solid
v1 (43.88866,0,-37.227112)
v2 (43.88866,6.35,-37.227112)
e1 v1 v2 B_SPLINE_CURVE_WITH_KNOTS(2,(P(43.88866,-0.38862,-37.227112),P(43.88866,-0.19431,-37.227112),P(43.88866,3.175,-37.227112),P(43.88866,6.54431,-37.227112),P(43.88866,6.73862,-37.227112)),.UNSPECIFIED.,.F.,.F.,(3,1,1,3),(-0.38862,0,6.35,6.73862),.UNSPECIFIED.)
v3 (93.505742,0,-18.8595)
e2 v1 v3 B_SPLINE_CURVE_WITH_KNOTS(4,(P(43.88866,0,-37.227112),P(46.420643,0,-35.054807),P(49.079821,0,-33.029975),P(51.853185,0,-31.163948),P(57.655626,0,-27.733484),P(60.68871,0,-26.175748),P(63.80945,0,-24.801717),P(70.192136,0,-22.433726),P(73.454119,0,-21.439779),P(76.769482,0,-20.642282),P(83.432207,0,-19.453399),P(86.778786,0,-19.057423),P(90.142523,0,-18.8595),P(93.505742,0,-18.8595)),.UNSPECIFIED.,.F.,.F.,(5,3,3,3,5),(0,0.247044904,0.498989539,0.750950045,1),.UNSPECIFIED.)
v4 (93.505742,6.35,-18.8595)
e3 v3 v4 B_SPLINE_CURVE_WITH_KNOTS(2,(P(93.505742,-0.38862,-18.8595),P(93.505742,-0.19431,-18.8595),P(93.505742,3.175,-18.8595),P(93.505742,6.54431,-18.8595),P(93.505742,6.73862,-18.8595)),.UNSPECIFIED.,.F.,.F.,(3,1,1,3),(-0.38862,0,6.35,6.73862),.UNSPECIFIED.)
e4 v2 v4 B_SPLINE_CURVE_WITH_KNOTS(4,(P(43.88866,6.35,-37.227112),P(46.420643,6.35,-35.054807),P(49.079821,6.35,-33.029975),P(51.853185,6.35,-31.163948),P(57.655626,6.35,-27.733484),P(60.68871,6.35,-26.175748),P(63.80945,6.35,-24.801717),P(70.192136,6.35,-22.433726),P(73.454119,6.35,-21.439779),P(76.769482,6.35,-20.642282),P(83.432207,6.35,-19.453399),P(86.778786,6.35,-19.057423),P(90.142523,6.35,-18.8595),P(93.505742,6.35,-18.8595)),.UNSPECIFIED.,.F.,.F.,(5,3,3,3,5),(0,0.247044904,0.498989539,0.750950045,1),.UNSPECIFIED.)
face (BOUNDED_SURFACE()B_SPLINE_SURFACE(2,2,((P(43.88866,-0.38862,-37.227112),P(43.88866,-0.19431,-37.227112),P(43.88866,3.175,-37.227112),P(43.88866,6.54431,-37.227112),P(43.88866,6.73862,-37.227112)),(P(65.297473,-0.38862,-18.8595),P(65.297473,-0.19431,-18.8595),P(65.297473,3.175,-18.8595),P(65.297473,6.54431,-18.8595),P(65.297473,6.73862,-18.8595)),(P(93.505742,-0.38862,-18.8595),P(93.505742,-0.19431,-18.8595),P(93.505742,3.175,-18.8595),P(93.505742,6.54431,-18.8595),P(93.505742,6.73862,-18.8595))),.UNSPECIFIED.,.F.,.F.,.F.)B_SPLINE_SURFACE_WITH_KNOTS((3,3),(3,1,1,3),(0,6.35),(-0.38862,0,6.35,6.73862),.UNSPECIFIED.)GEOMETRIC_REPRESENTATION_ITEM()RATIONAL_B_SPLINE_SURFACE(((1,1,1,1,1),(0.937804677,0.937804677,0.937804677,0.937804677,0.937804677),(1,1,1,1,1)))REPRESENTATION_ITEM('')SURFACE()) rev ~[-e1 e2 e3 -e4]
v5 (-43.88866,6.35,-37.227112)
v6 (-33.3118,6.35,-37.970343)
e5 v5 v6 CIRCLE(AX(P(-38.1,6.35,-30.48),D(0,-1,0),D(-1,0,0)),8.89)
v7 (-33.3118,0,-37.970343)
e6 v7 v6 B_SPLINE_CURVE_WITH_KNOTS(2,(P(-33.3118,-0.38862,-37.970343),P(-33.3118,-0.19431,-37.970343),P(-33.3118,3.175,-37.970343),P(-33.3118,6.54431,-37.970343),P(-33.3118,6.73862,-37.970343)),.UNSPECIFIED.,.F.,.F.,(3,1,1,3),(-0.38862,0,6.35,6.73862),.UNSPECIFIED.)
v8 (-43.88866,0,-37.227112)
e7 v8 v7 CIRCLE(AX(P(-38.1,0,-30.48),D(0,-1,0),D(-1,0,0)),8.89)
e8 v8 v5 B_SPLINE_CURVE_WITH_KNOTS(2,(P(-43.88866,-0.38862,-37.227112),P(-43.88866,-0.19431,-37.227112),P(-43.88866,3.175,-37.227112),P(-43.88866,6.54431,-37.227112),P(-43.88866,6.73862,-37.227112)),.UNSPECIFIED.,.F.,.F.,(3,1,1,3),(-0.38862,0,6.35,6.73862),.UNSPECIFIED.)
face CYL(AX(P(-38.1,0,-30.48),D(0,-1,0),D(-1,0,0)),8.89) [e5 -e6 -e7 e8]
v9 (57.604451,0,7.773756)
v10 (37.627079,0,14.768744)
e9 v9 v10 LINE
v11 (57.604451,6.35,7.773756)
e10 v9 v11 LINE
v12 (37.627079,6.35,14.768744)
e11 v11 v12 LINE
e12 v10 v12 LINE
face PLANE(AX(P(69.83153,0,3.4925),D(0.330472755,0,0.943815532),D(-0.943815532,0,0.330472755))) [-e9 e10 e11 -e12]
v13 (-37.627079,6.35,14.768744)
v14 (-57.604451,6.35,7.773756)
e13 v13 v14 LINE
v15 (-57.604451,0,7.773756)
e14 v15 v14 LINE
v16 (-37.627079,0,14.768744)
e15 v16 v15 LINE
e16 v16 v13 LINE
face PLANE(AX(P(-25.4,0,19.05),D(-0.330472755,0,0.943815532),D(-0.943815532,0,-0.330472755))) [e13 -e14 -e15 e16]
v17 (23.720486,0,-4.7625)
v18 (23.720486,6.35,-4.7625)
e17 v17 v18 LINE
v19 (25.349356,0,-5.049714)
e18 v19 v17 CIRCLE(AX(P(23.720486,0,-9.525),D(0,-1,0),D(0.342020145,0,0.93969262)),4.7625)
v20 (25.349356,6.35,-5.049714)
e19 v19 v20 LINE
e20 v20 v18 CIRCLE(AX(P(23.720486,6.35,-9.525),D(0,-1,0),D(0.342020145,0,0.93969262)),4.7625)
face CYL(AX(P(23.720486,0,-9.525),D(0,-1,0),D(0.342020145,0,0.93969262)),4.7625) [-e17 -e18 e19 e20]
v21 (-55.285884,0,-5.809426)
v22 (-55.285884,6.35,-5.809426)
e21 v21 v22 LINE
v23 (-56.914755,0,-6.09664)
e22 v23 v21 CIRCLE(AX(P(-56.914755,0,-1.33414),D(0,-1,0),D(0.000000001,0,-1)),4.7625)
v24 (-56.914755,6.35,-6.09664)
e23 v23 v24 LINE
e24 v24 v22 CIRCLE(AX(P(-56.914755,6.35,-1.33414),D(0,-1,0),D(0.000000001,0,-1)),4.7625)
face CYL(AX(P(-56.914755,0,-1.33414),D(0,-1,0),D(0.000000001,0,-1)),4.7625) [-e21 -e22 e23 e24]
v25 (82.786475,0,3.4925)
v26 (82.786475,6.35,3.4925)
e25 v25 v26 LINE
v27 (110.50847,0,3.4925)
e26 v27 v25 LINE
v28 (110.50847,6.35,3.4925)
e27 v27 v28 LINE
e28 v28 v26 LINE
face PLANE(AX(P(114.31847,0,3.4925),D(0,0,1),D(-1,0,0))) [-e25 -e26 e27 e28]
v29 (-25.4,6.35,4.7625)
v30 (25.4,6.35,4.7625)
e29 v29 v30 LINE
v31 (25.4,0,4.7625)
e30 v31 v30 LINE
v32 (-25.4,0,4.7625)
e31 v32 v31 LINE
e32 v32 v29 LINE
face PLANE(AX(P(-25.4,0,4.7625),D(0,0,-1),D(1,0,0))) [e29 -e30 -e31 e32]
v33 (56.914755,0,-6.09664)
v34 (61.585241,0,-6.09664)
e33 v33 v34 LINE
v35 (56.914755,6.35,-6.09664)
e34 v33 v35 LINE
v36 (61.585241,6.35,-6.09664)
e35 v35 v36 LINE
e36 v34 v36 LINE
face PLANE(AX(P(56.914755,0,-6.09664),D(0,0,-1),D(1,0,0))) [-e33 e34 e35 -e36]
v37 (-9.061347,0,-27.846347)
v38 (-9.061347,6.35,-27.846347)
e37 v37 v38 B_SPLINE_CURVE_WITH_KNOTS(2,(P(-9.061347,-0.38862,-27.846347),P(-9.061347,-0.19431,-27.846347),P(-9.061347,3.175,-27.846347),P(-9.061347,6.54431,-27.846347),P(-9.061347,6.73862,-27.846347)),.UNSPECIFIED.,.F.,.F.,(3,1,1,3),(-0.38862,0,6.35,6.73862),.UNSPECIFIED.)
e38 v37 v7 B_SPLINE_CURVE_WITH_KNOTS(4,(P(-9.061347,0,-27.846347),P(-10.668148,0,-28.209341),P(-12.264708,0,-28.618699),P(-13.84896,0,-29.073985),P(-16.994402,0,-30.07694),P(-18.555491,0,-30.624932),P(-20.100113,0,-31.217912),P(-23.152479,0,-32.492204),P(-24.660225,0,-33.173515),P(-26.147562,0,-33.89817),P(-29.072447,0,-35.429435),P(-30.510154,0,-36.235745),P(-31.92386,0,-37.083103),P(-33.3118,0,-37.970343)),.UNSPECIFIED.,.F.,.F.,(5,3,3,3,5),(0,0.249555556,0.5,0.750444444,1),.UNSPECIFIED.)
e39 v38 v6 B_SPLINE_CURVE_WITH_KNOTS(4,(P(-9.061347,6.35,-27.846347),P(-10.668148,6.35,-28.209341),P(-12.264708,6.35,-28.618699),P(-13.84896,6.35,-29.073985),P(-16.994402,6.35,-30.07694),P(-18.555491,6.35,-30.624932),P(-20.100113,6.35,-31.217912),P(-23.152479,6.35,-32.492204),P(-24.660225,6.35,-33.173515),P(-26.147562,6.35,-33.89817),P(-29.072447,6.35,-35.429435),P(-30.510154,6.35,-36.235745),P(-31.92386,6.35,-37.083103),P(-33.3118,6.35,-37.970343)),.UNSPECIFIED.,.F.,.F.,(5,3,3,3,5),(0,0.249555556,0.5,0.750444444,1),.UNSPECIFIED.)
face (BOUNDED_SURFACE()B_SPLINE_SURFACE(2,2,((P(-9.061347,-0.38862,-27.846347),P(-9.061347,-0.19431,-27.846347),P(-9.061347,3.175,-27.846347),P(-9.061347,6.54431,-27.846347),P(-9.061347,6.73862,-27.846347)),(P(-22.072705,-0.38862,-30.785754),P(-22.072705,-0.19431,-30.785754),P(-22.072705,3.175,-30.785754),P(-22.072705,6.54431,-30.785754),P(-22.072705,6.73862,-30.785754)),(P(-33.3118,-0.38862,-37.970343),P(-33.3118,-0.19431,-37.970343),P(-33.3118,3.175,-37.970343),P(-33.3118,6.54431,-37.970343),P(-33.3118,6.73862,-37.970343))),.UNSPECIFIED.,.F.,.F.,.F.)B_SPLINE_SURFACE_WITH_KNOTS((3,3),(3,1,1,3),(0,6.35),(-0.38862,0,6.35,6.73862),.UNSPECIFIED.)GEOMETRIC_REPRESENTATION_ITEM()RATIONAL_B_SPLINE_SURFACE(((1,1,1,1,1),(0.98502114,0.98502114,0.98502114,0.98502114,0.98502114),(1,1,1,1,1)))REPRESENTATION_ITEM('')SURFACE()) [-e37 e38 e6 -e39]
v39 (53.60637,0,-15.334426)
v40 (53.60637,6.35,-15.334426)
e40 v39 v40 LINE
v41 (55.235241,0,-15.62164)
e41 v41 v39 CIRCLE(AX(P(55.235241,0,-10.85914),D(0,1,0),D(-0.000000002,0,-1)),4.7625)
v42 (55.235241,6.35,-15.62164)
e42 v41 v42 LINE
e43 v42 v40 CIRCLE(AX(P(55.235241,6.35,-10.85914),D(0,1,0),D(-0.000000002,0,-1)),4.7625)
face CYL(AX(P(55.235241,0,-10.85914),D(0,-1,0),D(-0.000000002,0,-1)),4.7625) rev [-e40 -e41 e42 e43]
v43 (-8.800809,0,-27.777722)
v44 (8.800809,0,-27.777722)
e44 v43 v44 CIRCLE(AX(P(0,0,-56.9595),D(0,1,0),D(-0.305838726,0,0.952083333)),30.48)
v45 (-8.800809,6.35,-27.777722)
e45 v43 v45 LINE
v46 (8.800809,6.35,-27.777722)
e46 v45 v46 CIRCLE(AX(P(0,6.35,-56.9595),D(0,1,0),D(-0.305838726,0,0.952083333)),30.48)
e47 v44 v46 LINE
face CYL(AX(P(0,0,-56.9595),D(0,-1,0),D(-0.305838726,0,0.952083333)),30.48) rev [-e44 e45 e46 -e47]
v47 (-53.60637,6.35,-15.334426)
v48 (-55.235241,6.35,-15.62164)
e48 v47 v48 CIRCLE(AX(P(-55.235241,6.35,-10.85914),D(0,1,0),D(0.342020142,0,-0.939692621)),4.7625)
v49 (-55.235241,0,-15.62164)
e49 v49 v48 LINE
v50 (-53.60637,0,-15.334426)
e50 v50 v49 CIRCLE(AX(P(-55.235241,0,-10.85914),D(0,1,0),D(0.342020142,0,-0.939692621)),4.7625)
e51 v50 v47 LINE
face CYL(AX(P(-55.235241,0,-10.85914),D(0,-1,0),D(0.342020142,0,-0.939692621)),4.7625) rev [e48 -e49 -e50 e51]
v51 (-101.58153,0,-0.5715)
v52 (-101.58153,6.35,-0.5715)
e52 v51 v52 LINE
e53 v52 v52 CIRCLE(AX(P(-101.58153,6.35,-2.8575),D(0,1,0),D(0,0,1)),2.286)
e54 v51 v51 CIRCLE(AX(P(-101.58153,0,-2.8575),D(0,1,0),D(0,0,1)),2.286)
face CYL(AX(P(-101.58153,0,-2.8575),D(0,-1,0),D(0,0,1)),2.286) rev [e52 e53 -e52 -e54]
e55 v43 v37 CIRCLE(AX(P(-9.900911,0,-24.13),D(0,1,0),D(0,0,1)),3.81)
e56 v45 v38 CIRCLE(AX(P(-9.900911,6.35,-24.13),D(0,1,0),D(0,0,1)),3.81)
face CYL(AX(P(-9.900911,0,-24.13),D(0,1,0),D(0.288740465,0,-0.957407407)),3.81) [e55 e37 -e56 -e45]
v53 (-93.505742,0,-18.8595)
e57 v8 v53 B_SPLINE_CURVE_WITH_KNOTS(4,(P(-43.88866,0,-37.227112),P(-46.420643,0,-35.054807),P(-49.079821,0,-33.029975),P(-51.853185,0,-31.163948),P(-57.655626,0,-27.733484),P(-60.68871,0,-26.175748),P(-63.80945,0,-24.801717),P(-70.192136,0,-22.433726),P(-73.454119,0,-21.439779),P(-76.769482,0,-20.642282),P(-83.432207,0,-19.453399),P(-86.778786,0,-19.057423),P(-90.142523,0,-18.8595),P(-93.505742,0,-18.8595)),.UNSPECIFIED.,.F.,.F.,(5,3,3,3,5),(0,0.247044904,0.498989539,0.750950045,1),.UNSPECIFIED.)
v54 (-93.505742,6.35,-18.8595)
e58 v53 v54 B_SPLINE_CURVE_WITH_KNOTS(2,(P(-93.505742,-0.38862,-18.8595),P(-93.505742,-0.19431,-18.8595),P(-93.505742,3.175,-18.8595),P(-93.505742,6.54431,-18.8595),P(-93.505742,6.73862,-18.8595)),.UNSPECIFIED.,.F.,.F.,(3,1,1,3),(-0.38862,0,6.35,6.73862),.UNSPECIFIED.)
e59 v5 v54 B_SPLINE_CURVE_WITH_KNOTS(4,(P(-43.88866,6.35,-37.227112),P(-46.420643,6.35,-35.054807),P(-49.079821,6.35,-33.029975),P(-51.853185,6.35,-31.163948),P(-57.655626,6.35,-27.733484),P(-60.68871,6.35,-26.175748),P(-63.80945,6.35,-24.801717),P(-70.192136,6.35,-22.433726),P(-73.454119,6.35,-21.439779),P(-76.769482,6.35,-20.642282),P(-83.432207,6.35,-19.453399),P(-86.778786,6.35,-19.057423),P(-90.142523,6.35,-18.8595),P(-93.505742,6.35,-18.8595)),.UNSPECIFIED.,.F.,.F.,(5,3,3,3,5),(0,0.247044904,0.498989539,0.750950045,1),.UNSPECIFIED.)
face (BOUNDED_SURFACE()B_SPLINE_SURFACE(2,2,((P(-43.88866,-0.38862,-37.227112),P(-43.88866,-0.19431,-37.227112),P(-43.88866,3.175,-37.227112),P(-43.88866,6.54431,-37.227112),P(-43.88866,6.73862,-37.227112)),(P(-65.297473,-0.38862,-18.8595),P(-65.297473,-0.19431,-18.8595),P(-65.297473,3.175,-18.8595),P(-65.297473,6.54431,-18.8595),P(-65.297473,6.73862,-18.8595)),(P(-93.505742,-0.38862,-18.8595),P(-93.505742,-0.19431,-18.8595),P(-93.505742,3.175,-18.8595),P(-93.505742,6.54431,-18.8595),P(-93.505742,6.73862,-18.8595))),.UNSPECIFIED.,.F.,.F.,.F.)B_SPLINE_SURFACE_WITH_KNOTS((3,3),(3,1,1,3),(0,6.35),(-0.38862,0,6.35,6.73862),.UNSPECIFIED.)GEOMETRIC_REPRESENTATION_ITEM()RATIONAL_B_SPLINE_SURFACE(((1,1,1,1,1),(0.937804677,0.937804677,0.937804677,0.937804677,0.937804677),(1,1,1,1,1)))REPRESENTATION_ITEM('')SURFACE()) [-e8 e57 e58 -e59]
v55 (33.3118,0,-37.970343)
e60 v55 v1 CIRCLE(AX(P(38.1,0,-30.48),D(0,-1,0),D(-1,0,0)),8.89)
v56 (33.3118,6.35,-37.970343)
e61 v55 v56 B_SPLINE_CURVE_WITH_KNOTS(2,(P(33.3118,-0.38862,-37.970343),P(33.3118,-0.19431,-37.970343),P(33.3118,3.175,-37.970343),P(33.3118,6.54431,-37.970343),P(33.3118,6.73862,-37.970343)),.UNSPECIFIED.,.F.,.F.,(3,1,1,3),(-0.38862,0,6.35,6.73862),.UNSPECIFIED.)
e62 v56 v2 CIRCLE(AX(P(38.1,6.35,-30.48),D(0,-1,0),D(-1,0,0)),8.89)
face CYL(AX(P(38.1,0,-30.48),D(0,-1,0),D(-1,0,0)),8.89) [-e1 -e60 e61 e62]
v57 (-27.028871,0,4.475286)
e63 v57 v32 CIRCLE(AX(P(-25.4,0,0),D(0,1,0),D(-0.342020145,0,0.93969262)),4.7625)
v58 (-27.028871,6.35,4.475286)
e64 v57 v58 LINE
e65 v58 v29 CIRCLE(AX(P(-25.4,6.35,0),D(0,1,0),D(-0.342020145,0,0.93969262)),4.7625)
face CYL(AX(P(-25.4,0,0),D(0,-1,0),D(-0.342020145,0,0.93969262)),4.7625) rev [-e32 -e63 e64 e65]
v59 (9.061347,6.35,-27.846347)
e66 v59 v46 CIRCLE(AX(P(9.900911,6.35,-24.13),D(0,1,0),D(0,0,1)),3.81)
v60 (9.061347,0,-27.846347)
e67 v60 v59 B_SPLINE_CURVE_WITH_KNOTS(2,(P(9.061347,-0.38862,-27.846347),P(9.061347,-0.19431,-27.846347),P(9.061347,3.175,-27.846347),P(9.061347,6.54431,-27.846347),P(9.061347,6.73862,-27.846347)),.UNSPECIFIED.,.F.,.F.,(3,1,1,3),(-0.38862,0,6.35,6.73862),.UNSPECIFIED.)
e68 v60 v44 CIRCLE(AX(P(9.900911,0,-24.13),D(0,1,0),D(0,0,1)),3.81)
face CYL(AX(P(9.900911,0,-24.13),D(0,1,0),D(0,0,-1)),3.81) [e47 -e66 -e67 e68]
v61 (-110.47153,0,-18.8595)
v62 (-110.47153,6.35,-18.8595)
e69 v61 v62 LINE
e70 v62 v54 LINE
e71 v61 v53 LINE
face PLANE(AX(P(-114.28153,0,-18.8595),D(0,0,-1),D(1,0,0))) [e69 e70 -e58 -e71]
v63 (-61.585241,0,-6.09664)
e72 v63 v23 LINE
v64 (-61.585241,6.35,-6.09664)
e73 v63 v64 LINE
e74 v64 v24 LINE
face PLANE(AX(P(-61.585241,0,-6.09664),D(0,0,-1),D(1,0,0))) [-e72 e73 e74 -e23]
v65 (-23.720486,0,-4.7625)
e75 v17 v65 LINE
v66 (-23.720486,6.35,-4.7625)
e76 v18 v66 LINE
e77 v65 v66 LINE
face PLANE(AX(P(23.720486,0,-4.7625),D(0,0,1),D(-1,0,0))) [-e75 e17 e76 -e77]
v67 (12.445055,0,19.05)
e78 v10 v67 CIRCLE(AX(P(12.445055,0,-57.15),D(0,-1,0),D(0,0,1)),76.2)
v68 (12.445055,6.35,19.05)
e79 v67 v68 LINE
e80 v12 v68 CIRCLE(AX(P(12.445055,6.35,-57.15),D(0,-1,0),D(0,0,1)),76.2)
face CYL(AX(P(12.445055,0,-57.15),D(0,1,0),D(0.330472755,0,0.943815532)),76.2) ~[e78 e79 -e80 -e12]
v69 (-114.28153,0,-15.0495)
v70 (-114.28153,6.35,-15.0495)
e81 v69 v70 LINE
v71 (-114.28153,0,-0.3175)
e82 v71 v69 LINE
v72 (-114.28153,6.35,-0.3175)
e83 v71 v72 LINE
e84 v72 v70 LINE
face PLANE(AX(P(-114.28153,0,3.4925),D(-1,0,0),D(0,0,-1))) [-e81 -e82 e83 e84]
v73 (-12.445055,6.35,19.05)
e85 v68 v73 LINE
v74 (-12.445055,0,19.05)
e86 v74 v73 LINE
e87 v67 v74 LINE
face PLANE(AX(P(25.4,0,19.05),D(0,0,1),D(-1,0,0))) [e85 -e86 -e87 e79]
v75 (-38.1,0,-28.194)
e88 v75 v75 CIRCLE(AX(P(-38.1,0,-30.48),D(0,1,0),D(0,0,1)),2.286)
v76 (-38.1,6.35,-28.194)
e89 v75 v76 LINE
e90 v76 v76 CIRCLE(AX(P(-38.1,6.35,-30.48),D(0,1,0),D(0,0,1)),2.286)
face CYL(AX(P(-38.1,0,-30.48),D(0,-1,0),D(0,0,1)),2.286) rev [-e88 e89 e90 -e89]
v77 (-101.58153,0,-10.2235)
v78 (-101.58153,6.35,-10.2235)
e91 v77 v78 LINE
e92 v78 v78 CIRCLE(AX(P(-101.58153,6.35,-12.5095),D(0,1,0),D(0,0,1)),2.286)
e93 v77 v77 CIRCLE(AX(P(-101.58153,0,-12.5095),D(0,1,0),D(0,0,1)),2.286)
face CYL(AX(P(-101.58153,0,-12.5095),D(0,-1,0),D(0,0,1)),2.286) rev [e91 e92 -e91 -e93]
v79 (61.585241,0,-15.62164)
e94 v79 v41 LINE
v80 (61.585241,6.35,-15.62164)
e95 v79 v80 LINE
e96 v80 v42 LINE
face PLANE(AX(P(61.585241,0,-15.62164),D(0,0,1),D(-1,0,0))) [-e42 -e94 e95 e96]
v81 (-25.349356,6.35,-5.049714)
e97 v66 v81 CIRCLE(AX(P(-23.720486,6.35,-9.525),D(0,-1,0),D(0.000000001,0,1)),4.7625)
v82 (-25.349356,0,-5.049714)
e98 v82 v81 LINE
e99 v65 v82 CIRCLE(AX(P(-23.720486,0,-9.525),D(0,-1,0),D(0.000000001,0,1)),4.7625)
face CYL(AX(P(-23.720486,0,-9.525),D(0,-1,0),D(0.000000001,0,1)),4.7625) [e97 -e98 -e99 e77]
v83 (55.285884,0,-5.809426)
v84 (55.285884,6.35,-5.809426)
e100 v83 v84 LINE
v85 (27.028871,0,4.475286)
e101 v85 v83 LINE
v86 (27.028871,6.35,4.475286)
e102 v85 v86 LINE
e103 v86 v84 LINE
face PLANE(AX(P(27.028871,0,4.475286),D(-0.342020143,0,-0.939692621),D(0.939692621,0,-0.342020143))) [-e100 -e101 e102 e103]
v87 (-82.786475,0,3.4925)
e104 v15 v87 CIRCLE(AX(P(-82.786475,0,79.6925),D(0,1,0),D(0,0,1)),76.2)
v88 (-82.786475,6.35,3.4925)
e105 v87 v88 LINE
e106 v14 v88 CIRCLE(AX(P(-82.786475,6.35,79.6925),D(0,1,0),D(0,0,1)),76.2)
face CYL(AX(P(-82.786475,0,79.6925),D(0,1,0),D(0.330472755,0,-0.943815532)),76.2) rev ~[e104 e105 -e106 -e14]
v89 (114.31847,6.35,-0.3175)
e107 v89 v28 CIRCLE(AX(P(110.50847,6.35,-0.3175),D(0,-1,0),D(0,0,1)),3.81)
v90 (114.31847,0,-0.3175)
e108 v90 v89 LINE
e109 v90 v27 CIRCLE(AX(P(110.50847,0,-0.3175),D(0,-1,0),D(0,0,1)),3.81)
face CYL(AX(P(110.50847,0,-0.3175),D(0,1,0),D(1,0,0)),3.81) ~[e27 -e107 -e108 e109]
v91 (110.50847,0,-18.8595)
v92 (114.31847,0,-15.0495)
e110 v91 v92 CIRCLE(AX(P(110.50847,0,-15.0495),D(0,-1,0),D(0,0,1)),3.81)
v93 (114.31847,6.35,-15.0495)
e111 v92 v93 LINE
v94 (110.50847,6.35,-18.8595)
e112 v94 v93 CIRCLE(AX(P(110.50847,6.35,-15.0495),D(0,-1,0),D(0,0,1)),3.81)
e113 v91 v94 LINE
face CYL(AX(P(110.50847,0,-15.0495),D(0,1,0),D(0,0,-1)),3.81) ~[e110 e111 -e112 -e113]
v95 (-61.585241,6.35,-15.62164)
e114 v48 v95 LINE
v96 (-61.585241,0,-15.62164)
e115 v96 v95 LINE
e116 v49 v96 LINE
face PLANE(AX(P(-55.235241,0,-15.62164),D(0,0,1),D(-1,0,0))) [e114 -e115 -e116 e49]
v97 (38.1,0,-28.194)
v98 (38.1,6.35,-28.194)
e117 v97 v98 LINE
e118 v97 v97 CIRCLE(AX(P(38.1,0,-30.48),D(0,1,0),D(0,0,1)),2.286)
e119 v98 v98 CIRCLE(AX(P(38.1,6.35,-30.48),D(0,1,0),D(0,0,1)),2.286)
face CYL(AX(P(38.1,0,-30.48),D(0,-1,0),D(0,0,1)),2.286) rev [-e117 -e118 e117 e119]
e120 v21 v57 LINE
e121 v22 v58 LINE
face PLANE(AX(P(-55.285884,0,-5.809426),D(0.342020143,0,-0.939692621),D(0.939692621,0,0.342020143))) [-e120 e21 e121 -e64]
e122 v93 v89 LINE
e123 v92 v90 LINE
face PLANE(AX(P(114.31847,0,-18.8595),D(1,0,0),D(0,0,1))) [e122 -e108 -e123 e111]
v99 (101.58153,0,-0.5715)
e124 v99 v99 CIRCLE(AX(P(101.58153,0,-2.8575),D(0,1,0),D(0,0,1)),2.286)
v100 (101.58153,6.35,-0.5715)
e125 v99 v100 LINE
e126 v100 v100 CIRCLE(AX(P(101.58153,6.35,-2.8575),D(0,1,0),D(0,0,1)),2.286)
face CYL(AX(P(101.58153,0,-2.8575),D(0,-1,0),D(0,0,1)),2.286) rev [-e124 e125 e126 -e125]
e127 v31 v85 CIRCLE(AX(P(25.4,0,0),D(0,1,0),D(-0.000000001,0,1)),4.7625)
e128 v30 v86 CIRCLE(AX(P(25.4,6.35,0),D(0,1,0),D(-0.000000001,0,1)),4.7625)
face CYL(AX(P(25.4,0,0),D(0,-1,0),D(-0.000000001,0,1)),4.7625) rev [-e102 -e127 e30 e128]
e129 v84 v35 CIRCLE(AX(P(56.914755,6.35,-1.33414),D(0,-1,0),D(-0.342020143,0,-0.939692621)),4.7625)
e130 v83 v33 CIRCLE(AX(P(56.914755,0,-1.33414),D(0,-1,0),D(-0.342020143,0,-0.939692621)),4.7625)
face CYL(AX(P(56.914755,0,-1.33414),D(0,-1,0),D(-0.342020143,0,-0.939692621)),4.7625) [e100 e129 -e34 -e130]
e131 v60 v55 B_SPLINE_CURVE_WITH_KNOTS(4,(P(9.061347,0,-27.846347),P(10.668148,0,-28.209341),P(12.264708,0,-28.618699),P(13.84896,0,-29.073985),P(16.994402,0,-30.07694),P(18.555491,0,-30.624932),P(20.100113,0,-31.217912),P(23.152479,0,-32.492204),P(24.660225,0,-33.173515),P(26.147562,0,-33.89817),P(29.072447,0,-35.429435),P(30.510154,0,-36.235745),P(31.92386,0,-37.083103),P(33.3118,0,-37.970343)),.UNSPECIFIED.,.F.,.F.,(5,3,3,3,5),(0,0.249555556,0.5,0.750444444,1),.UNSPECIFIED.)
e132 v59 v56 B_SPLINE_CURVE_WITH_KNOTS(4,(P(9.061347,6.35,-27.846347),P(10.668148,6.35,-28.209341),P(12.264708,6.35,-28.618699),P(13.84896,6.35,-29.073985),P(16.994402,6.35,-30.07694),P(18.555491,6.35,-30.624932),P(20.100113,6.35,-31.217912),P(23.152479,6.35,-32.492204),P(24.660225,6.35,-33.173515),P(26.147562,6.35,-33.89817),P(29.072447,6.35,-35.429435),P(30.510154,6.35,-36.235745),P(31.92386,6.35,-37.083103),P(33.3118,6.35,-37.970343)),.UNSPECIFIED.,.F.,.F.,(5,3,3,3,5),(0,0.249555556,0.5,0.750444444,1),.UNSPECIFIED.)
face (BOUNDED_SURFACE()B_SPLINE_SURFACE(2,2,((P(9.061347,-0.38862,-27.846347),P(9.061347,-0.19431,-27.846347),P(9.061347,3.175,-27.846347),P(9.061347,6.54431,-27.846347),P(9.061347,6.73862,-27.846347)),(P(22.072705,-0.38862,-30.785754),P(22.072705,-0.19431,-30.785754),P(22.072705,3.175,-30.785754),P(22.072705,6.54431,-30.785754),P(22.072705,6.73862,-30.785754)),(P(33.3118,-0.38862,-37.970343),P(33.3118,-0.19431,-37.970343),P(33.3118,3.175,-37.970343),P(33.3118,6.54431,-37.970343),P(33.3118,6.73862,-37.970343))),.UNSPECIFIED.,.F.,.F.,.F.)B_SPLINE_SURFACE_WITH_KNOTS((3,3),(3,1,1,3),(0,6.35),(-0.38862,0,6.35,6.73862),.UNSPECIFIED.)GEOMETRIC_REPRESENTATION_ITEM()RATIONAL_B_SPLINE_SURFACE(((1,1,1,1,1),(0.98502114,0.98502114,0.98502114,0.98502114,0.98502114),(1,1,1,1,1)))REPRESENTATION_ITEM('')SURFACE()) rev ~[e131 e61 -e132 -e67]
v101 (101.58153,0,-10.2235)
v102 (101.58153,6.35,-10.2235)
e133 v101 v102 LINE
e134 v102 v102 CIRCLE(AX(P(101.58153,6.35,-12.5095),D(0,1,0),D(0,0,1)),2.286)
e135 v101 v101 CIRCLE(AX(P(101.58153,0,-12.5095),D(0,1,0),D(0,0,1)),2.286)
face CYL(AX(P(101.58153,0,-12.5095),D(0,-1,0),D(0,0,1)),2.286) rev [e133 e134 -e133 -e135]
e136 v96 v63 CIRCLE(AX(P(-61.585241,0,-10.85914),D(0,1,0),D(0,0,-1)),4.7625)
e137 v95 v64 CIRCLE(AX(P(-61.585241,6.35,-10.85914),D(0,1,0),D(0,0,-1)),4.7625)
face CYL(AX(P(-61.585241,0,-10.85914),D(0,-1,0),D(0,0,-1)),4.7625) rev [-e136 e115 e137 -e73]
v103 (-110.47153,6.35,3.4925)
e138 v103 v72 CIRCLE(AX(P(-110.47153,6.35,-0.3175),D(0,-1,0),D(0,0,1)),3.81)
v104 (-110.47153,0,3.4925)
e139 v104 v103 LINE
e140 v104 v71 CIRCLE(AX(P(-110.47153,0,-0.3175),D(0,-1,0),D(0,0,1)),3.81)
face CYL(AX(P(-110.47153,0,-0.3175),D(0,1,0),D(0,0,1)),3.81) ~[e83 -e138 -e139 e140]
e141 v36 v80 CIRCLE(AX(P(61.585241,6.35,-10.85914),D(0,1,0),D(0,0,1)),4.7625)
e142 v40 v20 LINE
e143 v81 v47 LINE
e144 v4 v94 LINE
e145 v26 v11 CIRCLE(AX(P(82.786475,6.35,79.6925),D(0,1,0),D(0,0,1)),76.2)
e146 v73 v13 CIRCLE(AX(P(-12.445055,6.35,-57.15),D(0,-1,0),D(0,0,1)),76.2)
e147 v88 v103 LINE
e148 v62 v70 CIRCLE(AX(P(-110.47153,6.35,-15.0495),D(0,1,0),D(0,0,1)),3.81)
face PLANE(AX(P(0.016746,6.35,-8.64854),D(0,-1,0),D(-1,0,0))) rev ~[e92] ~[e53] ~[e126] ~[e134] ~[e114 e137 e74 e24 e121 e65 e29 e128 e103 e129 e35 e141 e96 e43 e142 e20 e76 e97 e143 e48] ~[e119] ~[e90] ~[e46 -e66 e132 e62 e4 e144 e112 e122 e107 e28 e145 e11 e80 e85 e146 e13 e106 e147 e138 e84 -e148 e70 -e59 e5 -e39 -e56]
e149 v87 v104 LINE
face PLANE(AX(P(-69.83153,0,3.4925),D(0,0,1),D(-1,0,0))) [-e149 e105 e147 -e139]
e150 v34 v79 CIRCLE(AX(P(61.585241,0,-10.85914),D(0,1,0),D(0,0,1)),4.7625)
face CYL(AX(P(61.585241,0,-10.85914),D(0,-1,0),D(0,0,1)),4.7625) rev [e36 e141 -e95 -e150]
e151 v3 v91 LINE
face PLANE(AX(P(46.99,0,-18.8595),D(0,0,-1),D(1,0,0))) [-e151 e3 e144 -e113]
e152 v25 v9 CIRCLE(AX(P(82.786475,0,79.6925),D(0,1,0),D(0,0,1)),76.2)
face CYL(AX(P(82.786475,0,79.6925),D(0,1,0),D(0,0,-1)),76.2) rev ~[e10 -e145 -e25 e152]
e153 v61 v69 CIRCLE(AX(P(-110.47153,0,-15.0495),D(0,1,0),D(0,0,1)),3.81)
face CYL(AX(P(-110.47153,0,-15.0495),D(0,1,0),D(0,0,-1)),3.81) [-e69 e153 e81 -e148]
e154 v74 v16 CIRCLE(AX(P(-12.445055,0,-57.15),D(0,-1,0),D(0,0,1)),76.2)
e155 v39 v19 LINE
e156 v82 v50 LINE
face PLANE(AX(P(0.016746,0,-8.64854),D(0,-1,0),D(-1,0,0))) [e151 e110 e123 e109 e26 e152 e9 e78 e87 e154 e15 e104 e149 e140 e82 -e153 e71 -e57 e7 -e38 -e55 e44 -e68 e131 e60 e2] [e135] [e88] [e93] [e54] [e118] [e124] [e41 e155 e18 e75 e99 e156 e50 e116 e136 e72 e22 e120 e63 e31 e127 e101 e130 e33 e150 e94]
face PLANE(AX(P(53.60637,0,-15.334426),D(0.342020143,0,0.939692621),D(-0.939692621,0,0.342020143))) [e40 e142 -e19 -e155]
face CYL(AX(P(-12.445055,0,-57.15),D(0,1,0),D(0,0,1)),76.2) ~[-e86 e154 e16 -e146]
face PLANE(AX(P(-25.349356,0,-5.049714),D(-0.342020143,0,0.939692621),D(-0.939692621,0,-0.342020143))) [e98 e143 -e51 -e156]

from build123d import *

# Parameters (mm, degrees)
SKETCH1_R           = 2.286
BOSS_EXTRUDE1_DEPTH = 6.35
FILLET2_R           = 3.81
FILLET3_R           = 76.2


with BuildPart() as part:
    # Sketch1 → Boss-Extrude1 (new body)
    with BuildSketch(Plane(origin=(0, 0, 0), x_dir=(1, 0, 0), z_dir=(0, 1, 0))):
        with BuildLine():
            ThreePointArc((29.21, 30.48), (38.1, 39.37), (46.99, 30.48))
            Line((46.99, 30.48), (46.99, 18.8595))
            Line((46.99, 18.8595), (114.318469952, 18.8595))
            Line((114.318469952, 18.8595), (114.318469952, -3.4925))
            Line((114.318469952, -3.4925), (69.831530048, -3.4925))
            Line((69.831530048, -3.4925), (25.4, -19.05))
            Line((25.4, -19.05), (-25.4, -19.05))
            Line((-25.4, -19.05), (-69.831530048, -3.4925))
            Line((-69.831530048, -3.4925), (-114.281530048, -3.4925))
            Line((-114.281530048, -3.4925), (-114.281530048, 18.8595))
            Line((-114.281530048, 18.8595), (-46.99, 18.8595))
            Line((-46.99, 18.8595), (-46.99, 30.48))
            ThreePointArc((-46.99, 30.48), (-38.1, 39.37), (-29.21, 30.48))
            Line((-29.21, 30.48), (-29.21, 27.94))
            Line((-29.21, 27.94), (-9.321964372, 27.94))
            ThreePointArc((-9.321964372, 27.94), (0, 26.4795), (9.321964372, 27.94))
            Line((9.321964372, 27.94), (29.21, 27.94))
            Line((29.21, 27.94), (29.21, 30.48))
        make_face()
        with Locations(Location((101.581530048, 2.8575, 0), (0, 0, 270))):
            Circle(SKETCH1_R, mode=Mode.SUBTRACT)
        with Locations(Location((-101.581530048, 12.5095, 0), (0, 0, 270))):
            Circle(SKETCH1_R, mode=Mode.SUBTRACT)
        with Locations(Location((-101.581530048, 2.8575, 0), (0, 0, 270))):
            Circle(SKETCH1_R, mode=Mode.SUBTRACT)
        with Locations(Location((101.581530048, 12.5095, 0), (0, 0, 270))):
            Circle(SKETCH1_R, mode=Mode.SUBTRACT)
        with Locations(Location((-38.1, 30.48, 0), (0, 0, 270))):
            Circle(SKETCH1_R, mode=Mode.SUBTRACT)
        with Locations(Location((38.1, 30.48, 0), (0, 0, 270))):
            Circle(SKETCH1_R, mode=Mode.SUBTRACT)
        with BuildLine():
            Line((27.028870933, -4.475286106), (55.285884269, 5.809425657))
            ThreePointArc((55.285884269, 5.809425657), (56.087755755, 6.024286474), (56.914755201, 6.096639551))
            Line((56.914755201, 6.096639551), (61.58524071, 6.096639551))
            ThreePointArc((61.58524071, 6.096639551), (66.34774071, 10.859139551), (61.58524071, 15.621639551))
            Line((61.58524071, 15.621639551), (55.23524071, 15.621639551))
            ThreePointArc((55.23524071, 15.621639551), (54.408241264, 15.549286474), (53.606369777, 15.334425657))
            Line((53.606369777, 15.334425657), (25.349356441, 5.049713894))
            ThreePointArc((25.349356441, 5.049713894), (24.547484955, 4.834853076), (23.720485509, 4.7625))
            Line((23.720485509, 4.7625), (-23.720485509, 4.7625))
            ThreePointArc((-23.720485509, 4.7625), (-24.547484955, 4.834853076), (-25.349356441, 5.049713894))
            Line((-25.349356441, 5.049713894), (-53.606369777, 15.334425657))
            ThreePointArc((-53.606369777, 15.334425657), (-54.408241264, 15.549286474), (-55.23524071, 15.621639551))
            Line((-55.23524071, 15.621639551), (-61.58524071, 15.621639551))
            ThreePointArc((-61.58524071, 15.621639551), (-66.34774071, 10.859139551), (-61.58524071, 6.096639551))
            Line((-61.58524071, 6.096639551), (-56.914755201, 6.096639551))
            ThreePointArc((-56.914755201, 6.096639551), (-56.087755755, 6.024286474), (-55.285884269, 5.809425657))
            Line((-55.285884269, 5.809425657), (-27.028870933, -4.475286106))
            ThreePointArc((-27.028870933, -4.475286106), (-26.226999446, -4.690146924), (-25.4, -4.7625))
            Line((-25.4, -4.7625), (25.4, -4.7625))
            ThreePointArc((25.4, -4.7625), (26.226999446, -4.690146924), (27.028870933, -4.475286106))
        make_face(mode=Mode.SUBTRACT)
    extrude(amount=BOSS_EXTRUDE1_DEPTH)

    # Fillet2
    fillet2_edges = [part.edges().sort_by_distance(p)[0] for p in [
        (114.318469952, 3.175, -18.8595),
        (114.318469952, 3.175, 3.4925),
        (-114.281530048, 3.175, 3.4925),
        (-114.281530048, 3.175, -18.8595),
        (-9.321964372, 3.175, -27.94),
        (9.321964372, 3.175, -27.94),
    ]]
    fillet(fillet2_edges, radius=FILLET2_R)

    # Fillet3
    fillet3_edges = [part.edges().sort_by_distance(p)[0] for p in [
        (-46.99, 3.175, -18.8595),
        (-29.21, 3.175, -27.94),
        (29.21, 3.175, -27.94),
        (46.99, 3.175, -18.8595),
        (69.831530048, 3.175, 3.4925),
        (25.4, 3.175, 19.05),
        (-25.4, 3.175, 19.05),
        (-69.831530048, 3.175, 3.4925),
    ]]
    fillet(fillet3_edges, radius=FILLET3_R)


solid = part.part
